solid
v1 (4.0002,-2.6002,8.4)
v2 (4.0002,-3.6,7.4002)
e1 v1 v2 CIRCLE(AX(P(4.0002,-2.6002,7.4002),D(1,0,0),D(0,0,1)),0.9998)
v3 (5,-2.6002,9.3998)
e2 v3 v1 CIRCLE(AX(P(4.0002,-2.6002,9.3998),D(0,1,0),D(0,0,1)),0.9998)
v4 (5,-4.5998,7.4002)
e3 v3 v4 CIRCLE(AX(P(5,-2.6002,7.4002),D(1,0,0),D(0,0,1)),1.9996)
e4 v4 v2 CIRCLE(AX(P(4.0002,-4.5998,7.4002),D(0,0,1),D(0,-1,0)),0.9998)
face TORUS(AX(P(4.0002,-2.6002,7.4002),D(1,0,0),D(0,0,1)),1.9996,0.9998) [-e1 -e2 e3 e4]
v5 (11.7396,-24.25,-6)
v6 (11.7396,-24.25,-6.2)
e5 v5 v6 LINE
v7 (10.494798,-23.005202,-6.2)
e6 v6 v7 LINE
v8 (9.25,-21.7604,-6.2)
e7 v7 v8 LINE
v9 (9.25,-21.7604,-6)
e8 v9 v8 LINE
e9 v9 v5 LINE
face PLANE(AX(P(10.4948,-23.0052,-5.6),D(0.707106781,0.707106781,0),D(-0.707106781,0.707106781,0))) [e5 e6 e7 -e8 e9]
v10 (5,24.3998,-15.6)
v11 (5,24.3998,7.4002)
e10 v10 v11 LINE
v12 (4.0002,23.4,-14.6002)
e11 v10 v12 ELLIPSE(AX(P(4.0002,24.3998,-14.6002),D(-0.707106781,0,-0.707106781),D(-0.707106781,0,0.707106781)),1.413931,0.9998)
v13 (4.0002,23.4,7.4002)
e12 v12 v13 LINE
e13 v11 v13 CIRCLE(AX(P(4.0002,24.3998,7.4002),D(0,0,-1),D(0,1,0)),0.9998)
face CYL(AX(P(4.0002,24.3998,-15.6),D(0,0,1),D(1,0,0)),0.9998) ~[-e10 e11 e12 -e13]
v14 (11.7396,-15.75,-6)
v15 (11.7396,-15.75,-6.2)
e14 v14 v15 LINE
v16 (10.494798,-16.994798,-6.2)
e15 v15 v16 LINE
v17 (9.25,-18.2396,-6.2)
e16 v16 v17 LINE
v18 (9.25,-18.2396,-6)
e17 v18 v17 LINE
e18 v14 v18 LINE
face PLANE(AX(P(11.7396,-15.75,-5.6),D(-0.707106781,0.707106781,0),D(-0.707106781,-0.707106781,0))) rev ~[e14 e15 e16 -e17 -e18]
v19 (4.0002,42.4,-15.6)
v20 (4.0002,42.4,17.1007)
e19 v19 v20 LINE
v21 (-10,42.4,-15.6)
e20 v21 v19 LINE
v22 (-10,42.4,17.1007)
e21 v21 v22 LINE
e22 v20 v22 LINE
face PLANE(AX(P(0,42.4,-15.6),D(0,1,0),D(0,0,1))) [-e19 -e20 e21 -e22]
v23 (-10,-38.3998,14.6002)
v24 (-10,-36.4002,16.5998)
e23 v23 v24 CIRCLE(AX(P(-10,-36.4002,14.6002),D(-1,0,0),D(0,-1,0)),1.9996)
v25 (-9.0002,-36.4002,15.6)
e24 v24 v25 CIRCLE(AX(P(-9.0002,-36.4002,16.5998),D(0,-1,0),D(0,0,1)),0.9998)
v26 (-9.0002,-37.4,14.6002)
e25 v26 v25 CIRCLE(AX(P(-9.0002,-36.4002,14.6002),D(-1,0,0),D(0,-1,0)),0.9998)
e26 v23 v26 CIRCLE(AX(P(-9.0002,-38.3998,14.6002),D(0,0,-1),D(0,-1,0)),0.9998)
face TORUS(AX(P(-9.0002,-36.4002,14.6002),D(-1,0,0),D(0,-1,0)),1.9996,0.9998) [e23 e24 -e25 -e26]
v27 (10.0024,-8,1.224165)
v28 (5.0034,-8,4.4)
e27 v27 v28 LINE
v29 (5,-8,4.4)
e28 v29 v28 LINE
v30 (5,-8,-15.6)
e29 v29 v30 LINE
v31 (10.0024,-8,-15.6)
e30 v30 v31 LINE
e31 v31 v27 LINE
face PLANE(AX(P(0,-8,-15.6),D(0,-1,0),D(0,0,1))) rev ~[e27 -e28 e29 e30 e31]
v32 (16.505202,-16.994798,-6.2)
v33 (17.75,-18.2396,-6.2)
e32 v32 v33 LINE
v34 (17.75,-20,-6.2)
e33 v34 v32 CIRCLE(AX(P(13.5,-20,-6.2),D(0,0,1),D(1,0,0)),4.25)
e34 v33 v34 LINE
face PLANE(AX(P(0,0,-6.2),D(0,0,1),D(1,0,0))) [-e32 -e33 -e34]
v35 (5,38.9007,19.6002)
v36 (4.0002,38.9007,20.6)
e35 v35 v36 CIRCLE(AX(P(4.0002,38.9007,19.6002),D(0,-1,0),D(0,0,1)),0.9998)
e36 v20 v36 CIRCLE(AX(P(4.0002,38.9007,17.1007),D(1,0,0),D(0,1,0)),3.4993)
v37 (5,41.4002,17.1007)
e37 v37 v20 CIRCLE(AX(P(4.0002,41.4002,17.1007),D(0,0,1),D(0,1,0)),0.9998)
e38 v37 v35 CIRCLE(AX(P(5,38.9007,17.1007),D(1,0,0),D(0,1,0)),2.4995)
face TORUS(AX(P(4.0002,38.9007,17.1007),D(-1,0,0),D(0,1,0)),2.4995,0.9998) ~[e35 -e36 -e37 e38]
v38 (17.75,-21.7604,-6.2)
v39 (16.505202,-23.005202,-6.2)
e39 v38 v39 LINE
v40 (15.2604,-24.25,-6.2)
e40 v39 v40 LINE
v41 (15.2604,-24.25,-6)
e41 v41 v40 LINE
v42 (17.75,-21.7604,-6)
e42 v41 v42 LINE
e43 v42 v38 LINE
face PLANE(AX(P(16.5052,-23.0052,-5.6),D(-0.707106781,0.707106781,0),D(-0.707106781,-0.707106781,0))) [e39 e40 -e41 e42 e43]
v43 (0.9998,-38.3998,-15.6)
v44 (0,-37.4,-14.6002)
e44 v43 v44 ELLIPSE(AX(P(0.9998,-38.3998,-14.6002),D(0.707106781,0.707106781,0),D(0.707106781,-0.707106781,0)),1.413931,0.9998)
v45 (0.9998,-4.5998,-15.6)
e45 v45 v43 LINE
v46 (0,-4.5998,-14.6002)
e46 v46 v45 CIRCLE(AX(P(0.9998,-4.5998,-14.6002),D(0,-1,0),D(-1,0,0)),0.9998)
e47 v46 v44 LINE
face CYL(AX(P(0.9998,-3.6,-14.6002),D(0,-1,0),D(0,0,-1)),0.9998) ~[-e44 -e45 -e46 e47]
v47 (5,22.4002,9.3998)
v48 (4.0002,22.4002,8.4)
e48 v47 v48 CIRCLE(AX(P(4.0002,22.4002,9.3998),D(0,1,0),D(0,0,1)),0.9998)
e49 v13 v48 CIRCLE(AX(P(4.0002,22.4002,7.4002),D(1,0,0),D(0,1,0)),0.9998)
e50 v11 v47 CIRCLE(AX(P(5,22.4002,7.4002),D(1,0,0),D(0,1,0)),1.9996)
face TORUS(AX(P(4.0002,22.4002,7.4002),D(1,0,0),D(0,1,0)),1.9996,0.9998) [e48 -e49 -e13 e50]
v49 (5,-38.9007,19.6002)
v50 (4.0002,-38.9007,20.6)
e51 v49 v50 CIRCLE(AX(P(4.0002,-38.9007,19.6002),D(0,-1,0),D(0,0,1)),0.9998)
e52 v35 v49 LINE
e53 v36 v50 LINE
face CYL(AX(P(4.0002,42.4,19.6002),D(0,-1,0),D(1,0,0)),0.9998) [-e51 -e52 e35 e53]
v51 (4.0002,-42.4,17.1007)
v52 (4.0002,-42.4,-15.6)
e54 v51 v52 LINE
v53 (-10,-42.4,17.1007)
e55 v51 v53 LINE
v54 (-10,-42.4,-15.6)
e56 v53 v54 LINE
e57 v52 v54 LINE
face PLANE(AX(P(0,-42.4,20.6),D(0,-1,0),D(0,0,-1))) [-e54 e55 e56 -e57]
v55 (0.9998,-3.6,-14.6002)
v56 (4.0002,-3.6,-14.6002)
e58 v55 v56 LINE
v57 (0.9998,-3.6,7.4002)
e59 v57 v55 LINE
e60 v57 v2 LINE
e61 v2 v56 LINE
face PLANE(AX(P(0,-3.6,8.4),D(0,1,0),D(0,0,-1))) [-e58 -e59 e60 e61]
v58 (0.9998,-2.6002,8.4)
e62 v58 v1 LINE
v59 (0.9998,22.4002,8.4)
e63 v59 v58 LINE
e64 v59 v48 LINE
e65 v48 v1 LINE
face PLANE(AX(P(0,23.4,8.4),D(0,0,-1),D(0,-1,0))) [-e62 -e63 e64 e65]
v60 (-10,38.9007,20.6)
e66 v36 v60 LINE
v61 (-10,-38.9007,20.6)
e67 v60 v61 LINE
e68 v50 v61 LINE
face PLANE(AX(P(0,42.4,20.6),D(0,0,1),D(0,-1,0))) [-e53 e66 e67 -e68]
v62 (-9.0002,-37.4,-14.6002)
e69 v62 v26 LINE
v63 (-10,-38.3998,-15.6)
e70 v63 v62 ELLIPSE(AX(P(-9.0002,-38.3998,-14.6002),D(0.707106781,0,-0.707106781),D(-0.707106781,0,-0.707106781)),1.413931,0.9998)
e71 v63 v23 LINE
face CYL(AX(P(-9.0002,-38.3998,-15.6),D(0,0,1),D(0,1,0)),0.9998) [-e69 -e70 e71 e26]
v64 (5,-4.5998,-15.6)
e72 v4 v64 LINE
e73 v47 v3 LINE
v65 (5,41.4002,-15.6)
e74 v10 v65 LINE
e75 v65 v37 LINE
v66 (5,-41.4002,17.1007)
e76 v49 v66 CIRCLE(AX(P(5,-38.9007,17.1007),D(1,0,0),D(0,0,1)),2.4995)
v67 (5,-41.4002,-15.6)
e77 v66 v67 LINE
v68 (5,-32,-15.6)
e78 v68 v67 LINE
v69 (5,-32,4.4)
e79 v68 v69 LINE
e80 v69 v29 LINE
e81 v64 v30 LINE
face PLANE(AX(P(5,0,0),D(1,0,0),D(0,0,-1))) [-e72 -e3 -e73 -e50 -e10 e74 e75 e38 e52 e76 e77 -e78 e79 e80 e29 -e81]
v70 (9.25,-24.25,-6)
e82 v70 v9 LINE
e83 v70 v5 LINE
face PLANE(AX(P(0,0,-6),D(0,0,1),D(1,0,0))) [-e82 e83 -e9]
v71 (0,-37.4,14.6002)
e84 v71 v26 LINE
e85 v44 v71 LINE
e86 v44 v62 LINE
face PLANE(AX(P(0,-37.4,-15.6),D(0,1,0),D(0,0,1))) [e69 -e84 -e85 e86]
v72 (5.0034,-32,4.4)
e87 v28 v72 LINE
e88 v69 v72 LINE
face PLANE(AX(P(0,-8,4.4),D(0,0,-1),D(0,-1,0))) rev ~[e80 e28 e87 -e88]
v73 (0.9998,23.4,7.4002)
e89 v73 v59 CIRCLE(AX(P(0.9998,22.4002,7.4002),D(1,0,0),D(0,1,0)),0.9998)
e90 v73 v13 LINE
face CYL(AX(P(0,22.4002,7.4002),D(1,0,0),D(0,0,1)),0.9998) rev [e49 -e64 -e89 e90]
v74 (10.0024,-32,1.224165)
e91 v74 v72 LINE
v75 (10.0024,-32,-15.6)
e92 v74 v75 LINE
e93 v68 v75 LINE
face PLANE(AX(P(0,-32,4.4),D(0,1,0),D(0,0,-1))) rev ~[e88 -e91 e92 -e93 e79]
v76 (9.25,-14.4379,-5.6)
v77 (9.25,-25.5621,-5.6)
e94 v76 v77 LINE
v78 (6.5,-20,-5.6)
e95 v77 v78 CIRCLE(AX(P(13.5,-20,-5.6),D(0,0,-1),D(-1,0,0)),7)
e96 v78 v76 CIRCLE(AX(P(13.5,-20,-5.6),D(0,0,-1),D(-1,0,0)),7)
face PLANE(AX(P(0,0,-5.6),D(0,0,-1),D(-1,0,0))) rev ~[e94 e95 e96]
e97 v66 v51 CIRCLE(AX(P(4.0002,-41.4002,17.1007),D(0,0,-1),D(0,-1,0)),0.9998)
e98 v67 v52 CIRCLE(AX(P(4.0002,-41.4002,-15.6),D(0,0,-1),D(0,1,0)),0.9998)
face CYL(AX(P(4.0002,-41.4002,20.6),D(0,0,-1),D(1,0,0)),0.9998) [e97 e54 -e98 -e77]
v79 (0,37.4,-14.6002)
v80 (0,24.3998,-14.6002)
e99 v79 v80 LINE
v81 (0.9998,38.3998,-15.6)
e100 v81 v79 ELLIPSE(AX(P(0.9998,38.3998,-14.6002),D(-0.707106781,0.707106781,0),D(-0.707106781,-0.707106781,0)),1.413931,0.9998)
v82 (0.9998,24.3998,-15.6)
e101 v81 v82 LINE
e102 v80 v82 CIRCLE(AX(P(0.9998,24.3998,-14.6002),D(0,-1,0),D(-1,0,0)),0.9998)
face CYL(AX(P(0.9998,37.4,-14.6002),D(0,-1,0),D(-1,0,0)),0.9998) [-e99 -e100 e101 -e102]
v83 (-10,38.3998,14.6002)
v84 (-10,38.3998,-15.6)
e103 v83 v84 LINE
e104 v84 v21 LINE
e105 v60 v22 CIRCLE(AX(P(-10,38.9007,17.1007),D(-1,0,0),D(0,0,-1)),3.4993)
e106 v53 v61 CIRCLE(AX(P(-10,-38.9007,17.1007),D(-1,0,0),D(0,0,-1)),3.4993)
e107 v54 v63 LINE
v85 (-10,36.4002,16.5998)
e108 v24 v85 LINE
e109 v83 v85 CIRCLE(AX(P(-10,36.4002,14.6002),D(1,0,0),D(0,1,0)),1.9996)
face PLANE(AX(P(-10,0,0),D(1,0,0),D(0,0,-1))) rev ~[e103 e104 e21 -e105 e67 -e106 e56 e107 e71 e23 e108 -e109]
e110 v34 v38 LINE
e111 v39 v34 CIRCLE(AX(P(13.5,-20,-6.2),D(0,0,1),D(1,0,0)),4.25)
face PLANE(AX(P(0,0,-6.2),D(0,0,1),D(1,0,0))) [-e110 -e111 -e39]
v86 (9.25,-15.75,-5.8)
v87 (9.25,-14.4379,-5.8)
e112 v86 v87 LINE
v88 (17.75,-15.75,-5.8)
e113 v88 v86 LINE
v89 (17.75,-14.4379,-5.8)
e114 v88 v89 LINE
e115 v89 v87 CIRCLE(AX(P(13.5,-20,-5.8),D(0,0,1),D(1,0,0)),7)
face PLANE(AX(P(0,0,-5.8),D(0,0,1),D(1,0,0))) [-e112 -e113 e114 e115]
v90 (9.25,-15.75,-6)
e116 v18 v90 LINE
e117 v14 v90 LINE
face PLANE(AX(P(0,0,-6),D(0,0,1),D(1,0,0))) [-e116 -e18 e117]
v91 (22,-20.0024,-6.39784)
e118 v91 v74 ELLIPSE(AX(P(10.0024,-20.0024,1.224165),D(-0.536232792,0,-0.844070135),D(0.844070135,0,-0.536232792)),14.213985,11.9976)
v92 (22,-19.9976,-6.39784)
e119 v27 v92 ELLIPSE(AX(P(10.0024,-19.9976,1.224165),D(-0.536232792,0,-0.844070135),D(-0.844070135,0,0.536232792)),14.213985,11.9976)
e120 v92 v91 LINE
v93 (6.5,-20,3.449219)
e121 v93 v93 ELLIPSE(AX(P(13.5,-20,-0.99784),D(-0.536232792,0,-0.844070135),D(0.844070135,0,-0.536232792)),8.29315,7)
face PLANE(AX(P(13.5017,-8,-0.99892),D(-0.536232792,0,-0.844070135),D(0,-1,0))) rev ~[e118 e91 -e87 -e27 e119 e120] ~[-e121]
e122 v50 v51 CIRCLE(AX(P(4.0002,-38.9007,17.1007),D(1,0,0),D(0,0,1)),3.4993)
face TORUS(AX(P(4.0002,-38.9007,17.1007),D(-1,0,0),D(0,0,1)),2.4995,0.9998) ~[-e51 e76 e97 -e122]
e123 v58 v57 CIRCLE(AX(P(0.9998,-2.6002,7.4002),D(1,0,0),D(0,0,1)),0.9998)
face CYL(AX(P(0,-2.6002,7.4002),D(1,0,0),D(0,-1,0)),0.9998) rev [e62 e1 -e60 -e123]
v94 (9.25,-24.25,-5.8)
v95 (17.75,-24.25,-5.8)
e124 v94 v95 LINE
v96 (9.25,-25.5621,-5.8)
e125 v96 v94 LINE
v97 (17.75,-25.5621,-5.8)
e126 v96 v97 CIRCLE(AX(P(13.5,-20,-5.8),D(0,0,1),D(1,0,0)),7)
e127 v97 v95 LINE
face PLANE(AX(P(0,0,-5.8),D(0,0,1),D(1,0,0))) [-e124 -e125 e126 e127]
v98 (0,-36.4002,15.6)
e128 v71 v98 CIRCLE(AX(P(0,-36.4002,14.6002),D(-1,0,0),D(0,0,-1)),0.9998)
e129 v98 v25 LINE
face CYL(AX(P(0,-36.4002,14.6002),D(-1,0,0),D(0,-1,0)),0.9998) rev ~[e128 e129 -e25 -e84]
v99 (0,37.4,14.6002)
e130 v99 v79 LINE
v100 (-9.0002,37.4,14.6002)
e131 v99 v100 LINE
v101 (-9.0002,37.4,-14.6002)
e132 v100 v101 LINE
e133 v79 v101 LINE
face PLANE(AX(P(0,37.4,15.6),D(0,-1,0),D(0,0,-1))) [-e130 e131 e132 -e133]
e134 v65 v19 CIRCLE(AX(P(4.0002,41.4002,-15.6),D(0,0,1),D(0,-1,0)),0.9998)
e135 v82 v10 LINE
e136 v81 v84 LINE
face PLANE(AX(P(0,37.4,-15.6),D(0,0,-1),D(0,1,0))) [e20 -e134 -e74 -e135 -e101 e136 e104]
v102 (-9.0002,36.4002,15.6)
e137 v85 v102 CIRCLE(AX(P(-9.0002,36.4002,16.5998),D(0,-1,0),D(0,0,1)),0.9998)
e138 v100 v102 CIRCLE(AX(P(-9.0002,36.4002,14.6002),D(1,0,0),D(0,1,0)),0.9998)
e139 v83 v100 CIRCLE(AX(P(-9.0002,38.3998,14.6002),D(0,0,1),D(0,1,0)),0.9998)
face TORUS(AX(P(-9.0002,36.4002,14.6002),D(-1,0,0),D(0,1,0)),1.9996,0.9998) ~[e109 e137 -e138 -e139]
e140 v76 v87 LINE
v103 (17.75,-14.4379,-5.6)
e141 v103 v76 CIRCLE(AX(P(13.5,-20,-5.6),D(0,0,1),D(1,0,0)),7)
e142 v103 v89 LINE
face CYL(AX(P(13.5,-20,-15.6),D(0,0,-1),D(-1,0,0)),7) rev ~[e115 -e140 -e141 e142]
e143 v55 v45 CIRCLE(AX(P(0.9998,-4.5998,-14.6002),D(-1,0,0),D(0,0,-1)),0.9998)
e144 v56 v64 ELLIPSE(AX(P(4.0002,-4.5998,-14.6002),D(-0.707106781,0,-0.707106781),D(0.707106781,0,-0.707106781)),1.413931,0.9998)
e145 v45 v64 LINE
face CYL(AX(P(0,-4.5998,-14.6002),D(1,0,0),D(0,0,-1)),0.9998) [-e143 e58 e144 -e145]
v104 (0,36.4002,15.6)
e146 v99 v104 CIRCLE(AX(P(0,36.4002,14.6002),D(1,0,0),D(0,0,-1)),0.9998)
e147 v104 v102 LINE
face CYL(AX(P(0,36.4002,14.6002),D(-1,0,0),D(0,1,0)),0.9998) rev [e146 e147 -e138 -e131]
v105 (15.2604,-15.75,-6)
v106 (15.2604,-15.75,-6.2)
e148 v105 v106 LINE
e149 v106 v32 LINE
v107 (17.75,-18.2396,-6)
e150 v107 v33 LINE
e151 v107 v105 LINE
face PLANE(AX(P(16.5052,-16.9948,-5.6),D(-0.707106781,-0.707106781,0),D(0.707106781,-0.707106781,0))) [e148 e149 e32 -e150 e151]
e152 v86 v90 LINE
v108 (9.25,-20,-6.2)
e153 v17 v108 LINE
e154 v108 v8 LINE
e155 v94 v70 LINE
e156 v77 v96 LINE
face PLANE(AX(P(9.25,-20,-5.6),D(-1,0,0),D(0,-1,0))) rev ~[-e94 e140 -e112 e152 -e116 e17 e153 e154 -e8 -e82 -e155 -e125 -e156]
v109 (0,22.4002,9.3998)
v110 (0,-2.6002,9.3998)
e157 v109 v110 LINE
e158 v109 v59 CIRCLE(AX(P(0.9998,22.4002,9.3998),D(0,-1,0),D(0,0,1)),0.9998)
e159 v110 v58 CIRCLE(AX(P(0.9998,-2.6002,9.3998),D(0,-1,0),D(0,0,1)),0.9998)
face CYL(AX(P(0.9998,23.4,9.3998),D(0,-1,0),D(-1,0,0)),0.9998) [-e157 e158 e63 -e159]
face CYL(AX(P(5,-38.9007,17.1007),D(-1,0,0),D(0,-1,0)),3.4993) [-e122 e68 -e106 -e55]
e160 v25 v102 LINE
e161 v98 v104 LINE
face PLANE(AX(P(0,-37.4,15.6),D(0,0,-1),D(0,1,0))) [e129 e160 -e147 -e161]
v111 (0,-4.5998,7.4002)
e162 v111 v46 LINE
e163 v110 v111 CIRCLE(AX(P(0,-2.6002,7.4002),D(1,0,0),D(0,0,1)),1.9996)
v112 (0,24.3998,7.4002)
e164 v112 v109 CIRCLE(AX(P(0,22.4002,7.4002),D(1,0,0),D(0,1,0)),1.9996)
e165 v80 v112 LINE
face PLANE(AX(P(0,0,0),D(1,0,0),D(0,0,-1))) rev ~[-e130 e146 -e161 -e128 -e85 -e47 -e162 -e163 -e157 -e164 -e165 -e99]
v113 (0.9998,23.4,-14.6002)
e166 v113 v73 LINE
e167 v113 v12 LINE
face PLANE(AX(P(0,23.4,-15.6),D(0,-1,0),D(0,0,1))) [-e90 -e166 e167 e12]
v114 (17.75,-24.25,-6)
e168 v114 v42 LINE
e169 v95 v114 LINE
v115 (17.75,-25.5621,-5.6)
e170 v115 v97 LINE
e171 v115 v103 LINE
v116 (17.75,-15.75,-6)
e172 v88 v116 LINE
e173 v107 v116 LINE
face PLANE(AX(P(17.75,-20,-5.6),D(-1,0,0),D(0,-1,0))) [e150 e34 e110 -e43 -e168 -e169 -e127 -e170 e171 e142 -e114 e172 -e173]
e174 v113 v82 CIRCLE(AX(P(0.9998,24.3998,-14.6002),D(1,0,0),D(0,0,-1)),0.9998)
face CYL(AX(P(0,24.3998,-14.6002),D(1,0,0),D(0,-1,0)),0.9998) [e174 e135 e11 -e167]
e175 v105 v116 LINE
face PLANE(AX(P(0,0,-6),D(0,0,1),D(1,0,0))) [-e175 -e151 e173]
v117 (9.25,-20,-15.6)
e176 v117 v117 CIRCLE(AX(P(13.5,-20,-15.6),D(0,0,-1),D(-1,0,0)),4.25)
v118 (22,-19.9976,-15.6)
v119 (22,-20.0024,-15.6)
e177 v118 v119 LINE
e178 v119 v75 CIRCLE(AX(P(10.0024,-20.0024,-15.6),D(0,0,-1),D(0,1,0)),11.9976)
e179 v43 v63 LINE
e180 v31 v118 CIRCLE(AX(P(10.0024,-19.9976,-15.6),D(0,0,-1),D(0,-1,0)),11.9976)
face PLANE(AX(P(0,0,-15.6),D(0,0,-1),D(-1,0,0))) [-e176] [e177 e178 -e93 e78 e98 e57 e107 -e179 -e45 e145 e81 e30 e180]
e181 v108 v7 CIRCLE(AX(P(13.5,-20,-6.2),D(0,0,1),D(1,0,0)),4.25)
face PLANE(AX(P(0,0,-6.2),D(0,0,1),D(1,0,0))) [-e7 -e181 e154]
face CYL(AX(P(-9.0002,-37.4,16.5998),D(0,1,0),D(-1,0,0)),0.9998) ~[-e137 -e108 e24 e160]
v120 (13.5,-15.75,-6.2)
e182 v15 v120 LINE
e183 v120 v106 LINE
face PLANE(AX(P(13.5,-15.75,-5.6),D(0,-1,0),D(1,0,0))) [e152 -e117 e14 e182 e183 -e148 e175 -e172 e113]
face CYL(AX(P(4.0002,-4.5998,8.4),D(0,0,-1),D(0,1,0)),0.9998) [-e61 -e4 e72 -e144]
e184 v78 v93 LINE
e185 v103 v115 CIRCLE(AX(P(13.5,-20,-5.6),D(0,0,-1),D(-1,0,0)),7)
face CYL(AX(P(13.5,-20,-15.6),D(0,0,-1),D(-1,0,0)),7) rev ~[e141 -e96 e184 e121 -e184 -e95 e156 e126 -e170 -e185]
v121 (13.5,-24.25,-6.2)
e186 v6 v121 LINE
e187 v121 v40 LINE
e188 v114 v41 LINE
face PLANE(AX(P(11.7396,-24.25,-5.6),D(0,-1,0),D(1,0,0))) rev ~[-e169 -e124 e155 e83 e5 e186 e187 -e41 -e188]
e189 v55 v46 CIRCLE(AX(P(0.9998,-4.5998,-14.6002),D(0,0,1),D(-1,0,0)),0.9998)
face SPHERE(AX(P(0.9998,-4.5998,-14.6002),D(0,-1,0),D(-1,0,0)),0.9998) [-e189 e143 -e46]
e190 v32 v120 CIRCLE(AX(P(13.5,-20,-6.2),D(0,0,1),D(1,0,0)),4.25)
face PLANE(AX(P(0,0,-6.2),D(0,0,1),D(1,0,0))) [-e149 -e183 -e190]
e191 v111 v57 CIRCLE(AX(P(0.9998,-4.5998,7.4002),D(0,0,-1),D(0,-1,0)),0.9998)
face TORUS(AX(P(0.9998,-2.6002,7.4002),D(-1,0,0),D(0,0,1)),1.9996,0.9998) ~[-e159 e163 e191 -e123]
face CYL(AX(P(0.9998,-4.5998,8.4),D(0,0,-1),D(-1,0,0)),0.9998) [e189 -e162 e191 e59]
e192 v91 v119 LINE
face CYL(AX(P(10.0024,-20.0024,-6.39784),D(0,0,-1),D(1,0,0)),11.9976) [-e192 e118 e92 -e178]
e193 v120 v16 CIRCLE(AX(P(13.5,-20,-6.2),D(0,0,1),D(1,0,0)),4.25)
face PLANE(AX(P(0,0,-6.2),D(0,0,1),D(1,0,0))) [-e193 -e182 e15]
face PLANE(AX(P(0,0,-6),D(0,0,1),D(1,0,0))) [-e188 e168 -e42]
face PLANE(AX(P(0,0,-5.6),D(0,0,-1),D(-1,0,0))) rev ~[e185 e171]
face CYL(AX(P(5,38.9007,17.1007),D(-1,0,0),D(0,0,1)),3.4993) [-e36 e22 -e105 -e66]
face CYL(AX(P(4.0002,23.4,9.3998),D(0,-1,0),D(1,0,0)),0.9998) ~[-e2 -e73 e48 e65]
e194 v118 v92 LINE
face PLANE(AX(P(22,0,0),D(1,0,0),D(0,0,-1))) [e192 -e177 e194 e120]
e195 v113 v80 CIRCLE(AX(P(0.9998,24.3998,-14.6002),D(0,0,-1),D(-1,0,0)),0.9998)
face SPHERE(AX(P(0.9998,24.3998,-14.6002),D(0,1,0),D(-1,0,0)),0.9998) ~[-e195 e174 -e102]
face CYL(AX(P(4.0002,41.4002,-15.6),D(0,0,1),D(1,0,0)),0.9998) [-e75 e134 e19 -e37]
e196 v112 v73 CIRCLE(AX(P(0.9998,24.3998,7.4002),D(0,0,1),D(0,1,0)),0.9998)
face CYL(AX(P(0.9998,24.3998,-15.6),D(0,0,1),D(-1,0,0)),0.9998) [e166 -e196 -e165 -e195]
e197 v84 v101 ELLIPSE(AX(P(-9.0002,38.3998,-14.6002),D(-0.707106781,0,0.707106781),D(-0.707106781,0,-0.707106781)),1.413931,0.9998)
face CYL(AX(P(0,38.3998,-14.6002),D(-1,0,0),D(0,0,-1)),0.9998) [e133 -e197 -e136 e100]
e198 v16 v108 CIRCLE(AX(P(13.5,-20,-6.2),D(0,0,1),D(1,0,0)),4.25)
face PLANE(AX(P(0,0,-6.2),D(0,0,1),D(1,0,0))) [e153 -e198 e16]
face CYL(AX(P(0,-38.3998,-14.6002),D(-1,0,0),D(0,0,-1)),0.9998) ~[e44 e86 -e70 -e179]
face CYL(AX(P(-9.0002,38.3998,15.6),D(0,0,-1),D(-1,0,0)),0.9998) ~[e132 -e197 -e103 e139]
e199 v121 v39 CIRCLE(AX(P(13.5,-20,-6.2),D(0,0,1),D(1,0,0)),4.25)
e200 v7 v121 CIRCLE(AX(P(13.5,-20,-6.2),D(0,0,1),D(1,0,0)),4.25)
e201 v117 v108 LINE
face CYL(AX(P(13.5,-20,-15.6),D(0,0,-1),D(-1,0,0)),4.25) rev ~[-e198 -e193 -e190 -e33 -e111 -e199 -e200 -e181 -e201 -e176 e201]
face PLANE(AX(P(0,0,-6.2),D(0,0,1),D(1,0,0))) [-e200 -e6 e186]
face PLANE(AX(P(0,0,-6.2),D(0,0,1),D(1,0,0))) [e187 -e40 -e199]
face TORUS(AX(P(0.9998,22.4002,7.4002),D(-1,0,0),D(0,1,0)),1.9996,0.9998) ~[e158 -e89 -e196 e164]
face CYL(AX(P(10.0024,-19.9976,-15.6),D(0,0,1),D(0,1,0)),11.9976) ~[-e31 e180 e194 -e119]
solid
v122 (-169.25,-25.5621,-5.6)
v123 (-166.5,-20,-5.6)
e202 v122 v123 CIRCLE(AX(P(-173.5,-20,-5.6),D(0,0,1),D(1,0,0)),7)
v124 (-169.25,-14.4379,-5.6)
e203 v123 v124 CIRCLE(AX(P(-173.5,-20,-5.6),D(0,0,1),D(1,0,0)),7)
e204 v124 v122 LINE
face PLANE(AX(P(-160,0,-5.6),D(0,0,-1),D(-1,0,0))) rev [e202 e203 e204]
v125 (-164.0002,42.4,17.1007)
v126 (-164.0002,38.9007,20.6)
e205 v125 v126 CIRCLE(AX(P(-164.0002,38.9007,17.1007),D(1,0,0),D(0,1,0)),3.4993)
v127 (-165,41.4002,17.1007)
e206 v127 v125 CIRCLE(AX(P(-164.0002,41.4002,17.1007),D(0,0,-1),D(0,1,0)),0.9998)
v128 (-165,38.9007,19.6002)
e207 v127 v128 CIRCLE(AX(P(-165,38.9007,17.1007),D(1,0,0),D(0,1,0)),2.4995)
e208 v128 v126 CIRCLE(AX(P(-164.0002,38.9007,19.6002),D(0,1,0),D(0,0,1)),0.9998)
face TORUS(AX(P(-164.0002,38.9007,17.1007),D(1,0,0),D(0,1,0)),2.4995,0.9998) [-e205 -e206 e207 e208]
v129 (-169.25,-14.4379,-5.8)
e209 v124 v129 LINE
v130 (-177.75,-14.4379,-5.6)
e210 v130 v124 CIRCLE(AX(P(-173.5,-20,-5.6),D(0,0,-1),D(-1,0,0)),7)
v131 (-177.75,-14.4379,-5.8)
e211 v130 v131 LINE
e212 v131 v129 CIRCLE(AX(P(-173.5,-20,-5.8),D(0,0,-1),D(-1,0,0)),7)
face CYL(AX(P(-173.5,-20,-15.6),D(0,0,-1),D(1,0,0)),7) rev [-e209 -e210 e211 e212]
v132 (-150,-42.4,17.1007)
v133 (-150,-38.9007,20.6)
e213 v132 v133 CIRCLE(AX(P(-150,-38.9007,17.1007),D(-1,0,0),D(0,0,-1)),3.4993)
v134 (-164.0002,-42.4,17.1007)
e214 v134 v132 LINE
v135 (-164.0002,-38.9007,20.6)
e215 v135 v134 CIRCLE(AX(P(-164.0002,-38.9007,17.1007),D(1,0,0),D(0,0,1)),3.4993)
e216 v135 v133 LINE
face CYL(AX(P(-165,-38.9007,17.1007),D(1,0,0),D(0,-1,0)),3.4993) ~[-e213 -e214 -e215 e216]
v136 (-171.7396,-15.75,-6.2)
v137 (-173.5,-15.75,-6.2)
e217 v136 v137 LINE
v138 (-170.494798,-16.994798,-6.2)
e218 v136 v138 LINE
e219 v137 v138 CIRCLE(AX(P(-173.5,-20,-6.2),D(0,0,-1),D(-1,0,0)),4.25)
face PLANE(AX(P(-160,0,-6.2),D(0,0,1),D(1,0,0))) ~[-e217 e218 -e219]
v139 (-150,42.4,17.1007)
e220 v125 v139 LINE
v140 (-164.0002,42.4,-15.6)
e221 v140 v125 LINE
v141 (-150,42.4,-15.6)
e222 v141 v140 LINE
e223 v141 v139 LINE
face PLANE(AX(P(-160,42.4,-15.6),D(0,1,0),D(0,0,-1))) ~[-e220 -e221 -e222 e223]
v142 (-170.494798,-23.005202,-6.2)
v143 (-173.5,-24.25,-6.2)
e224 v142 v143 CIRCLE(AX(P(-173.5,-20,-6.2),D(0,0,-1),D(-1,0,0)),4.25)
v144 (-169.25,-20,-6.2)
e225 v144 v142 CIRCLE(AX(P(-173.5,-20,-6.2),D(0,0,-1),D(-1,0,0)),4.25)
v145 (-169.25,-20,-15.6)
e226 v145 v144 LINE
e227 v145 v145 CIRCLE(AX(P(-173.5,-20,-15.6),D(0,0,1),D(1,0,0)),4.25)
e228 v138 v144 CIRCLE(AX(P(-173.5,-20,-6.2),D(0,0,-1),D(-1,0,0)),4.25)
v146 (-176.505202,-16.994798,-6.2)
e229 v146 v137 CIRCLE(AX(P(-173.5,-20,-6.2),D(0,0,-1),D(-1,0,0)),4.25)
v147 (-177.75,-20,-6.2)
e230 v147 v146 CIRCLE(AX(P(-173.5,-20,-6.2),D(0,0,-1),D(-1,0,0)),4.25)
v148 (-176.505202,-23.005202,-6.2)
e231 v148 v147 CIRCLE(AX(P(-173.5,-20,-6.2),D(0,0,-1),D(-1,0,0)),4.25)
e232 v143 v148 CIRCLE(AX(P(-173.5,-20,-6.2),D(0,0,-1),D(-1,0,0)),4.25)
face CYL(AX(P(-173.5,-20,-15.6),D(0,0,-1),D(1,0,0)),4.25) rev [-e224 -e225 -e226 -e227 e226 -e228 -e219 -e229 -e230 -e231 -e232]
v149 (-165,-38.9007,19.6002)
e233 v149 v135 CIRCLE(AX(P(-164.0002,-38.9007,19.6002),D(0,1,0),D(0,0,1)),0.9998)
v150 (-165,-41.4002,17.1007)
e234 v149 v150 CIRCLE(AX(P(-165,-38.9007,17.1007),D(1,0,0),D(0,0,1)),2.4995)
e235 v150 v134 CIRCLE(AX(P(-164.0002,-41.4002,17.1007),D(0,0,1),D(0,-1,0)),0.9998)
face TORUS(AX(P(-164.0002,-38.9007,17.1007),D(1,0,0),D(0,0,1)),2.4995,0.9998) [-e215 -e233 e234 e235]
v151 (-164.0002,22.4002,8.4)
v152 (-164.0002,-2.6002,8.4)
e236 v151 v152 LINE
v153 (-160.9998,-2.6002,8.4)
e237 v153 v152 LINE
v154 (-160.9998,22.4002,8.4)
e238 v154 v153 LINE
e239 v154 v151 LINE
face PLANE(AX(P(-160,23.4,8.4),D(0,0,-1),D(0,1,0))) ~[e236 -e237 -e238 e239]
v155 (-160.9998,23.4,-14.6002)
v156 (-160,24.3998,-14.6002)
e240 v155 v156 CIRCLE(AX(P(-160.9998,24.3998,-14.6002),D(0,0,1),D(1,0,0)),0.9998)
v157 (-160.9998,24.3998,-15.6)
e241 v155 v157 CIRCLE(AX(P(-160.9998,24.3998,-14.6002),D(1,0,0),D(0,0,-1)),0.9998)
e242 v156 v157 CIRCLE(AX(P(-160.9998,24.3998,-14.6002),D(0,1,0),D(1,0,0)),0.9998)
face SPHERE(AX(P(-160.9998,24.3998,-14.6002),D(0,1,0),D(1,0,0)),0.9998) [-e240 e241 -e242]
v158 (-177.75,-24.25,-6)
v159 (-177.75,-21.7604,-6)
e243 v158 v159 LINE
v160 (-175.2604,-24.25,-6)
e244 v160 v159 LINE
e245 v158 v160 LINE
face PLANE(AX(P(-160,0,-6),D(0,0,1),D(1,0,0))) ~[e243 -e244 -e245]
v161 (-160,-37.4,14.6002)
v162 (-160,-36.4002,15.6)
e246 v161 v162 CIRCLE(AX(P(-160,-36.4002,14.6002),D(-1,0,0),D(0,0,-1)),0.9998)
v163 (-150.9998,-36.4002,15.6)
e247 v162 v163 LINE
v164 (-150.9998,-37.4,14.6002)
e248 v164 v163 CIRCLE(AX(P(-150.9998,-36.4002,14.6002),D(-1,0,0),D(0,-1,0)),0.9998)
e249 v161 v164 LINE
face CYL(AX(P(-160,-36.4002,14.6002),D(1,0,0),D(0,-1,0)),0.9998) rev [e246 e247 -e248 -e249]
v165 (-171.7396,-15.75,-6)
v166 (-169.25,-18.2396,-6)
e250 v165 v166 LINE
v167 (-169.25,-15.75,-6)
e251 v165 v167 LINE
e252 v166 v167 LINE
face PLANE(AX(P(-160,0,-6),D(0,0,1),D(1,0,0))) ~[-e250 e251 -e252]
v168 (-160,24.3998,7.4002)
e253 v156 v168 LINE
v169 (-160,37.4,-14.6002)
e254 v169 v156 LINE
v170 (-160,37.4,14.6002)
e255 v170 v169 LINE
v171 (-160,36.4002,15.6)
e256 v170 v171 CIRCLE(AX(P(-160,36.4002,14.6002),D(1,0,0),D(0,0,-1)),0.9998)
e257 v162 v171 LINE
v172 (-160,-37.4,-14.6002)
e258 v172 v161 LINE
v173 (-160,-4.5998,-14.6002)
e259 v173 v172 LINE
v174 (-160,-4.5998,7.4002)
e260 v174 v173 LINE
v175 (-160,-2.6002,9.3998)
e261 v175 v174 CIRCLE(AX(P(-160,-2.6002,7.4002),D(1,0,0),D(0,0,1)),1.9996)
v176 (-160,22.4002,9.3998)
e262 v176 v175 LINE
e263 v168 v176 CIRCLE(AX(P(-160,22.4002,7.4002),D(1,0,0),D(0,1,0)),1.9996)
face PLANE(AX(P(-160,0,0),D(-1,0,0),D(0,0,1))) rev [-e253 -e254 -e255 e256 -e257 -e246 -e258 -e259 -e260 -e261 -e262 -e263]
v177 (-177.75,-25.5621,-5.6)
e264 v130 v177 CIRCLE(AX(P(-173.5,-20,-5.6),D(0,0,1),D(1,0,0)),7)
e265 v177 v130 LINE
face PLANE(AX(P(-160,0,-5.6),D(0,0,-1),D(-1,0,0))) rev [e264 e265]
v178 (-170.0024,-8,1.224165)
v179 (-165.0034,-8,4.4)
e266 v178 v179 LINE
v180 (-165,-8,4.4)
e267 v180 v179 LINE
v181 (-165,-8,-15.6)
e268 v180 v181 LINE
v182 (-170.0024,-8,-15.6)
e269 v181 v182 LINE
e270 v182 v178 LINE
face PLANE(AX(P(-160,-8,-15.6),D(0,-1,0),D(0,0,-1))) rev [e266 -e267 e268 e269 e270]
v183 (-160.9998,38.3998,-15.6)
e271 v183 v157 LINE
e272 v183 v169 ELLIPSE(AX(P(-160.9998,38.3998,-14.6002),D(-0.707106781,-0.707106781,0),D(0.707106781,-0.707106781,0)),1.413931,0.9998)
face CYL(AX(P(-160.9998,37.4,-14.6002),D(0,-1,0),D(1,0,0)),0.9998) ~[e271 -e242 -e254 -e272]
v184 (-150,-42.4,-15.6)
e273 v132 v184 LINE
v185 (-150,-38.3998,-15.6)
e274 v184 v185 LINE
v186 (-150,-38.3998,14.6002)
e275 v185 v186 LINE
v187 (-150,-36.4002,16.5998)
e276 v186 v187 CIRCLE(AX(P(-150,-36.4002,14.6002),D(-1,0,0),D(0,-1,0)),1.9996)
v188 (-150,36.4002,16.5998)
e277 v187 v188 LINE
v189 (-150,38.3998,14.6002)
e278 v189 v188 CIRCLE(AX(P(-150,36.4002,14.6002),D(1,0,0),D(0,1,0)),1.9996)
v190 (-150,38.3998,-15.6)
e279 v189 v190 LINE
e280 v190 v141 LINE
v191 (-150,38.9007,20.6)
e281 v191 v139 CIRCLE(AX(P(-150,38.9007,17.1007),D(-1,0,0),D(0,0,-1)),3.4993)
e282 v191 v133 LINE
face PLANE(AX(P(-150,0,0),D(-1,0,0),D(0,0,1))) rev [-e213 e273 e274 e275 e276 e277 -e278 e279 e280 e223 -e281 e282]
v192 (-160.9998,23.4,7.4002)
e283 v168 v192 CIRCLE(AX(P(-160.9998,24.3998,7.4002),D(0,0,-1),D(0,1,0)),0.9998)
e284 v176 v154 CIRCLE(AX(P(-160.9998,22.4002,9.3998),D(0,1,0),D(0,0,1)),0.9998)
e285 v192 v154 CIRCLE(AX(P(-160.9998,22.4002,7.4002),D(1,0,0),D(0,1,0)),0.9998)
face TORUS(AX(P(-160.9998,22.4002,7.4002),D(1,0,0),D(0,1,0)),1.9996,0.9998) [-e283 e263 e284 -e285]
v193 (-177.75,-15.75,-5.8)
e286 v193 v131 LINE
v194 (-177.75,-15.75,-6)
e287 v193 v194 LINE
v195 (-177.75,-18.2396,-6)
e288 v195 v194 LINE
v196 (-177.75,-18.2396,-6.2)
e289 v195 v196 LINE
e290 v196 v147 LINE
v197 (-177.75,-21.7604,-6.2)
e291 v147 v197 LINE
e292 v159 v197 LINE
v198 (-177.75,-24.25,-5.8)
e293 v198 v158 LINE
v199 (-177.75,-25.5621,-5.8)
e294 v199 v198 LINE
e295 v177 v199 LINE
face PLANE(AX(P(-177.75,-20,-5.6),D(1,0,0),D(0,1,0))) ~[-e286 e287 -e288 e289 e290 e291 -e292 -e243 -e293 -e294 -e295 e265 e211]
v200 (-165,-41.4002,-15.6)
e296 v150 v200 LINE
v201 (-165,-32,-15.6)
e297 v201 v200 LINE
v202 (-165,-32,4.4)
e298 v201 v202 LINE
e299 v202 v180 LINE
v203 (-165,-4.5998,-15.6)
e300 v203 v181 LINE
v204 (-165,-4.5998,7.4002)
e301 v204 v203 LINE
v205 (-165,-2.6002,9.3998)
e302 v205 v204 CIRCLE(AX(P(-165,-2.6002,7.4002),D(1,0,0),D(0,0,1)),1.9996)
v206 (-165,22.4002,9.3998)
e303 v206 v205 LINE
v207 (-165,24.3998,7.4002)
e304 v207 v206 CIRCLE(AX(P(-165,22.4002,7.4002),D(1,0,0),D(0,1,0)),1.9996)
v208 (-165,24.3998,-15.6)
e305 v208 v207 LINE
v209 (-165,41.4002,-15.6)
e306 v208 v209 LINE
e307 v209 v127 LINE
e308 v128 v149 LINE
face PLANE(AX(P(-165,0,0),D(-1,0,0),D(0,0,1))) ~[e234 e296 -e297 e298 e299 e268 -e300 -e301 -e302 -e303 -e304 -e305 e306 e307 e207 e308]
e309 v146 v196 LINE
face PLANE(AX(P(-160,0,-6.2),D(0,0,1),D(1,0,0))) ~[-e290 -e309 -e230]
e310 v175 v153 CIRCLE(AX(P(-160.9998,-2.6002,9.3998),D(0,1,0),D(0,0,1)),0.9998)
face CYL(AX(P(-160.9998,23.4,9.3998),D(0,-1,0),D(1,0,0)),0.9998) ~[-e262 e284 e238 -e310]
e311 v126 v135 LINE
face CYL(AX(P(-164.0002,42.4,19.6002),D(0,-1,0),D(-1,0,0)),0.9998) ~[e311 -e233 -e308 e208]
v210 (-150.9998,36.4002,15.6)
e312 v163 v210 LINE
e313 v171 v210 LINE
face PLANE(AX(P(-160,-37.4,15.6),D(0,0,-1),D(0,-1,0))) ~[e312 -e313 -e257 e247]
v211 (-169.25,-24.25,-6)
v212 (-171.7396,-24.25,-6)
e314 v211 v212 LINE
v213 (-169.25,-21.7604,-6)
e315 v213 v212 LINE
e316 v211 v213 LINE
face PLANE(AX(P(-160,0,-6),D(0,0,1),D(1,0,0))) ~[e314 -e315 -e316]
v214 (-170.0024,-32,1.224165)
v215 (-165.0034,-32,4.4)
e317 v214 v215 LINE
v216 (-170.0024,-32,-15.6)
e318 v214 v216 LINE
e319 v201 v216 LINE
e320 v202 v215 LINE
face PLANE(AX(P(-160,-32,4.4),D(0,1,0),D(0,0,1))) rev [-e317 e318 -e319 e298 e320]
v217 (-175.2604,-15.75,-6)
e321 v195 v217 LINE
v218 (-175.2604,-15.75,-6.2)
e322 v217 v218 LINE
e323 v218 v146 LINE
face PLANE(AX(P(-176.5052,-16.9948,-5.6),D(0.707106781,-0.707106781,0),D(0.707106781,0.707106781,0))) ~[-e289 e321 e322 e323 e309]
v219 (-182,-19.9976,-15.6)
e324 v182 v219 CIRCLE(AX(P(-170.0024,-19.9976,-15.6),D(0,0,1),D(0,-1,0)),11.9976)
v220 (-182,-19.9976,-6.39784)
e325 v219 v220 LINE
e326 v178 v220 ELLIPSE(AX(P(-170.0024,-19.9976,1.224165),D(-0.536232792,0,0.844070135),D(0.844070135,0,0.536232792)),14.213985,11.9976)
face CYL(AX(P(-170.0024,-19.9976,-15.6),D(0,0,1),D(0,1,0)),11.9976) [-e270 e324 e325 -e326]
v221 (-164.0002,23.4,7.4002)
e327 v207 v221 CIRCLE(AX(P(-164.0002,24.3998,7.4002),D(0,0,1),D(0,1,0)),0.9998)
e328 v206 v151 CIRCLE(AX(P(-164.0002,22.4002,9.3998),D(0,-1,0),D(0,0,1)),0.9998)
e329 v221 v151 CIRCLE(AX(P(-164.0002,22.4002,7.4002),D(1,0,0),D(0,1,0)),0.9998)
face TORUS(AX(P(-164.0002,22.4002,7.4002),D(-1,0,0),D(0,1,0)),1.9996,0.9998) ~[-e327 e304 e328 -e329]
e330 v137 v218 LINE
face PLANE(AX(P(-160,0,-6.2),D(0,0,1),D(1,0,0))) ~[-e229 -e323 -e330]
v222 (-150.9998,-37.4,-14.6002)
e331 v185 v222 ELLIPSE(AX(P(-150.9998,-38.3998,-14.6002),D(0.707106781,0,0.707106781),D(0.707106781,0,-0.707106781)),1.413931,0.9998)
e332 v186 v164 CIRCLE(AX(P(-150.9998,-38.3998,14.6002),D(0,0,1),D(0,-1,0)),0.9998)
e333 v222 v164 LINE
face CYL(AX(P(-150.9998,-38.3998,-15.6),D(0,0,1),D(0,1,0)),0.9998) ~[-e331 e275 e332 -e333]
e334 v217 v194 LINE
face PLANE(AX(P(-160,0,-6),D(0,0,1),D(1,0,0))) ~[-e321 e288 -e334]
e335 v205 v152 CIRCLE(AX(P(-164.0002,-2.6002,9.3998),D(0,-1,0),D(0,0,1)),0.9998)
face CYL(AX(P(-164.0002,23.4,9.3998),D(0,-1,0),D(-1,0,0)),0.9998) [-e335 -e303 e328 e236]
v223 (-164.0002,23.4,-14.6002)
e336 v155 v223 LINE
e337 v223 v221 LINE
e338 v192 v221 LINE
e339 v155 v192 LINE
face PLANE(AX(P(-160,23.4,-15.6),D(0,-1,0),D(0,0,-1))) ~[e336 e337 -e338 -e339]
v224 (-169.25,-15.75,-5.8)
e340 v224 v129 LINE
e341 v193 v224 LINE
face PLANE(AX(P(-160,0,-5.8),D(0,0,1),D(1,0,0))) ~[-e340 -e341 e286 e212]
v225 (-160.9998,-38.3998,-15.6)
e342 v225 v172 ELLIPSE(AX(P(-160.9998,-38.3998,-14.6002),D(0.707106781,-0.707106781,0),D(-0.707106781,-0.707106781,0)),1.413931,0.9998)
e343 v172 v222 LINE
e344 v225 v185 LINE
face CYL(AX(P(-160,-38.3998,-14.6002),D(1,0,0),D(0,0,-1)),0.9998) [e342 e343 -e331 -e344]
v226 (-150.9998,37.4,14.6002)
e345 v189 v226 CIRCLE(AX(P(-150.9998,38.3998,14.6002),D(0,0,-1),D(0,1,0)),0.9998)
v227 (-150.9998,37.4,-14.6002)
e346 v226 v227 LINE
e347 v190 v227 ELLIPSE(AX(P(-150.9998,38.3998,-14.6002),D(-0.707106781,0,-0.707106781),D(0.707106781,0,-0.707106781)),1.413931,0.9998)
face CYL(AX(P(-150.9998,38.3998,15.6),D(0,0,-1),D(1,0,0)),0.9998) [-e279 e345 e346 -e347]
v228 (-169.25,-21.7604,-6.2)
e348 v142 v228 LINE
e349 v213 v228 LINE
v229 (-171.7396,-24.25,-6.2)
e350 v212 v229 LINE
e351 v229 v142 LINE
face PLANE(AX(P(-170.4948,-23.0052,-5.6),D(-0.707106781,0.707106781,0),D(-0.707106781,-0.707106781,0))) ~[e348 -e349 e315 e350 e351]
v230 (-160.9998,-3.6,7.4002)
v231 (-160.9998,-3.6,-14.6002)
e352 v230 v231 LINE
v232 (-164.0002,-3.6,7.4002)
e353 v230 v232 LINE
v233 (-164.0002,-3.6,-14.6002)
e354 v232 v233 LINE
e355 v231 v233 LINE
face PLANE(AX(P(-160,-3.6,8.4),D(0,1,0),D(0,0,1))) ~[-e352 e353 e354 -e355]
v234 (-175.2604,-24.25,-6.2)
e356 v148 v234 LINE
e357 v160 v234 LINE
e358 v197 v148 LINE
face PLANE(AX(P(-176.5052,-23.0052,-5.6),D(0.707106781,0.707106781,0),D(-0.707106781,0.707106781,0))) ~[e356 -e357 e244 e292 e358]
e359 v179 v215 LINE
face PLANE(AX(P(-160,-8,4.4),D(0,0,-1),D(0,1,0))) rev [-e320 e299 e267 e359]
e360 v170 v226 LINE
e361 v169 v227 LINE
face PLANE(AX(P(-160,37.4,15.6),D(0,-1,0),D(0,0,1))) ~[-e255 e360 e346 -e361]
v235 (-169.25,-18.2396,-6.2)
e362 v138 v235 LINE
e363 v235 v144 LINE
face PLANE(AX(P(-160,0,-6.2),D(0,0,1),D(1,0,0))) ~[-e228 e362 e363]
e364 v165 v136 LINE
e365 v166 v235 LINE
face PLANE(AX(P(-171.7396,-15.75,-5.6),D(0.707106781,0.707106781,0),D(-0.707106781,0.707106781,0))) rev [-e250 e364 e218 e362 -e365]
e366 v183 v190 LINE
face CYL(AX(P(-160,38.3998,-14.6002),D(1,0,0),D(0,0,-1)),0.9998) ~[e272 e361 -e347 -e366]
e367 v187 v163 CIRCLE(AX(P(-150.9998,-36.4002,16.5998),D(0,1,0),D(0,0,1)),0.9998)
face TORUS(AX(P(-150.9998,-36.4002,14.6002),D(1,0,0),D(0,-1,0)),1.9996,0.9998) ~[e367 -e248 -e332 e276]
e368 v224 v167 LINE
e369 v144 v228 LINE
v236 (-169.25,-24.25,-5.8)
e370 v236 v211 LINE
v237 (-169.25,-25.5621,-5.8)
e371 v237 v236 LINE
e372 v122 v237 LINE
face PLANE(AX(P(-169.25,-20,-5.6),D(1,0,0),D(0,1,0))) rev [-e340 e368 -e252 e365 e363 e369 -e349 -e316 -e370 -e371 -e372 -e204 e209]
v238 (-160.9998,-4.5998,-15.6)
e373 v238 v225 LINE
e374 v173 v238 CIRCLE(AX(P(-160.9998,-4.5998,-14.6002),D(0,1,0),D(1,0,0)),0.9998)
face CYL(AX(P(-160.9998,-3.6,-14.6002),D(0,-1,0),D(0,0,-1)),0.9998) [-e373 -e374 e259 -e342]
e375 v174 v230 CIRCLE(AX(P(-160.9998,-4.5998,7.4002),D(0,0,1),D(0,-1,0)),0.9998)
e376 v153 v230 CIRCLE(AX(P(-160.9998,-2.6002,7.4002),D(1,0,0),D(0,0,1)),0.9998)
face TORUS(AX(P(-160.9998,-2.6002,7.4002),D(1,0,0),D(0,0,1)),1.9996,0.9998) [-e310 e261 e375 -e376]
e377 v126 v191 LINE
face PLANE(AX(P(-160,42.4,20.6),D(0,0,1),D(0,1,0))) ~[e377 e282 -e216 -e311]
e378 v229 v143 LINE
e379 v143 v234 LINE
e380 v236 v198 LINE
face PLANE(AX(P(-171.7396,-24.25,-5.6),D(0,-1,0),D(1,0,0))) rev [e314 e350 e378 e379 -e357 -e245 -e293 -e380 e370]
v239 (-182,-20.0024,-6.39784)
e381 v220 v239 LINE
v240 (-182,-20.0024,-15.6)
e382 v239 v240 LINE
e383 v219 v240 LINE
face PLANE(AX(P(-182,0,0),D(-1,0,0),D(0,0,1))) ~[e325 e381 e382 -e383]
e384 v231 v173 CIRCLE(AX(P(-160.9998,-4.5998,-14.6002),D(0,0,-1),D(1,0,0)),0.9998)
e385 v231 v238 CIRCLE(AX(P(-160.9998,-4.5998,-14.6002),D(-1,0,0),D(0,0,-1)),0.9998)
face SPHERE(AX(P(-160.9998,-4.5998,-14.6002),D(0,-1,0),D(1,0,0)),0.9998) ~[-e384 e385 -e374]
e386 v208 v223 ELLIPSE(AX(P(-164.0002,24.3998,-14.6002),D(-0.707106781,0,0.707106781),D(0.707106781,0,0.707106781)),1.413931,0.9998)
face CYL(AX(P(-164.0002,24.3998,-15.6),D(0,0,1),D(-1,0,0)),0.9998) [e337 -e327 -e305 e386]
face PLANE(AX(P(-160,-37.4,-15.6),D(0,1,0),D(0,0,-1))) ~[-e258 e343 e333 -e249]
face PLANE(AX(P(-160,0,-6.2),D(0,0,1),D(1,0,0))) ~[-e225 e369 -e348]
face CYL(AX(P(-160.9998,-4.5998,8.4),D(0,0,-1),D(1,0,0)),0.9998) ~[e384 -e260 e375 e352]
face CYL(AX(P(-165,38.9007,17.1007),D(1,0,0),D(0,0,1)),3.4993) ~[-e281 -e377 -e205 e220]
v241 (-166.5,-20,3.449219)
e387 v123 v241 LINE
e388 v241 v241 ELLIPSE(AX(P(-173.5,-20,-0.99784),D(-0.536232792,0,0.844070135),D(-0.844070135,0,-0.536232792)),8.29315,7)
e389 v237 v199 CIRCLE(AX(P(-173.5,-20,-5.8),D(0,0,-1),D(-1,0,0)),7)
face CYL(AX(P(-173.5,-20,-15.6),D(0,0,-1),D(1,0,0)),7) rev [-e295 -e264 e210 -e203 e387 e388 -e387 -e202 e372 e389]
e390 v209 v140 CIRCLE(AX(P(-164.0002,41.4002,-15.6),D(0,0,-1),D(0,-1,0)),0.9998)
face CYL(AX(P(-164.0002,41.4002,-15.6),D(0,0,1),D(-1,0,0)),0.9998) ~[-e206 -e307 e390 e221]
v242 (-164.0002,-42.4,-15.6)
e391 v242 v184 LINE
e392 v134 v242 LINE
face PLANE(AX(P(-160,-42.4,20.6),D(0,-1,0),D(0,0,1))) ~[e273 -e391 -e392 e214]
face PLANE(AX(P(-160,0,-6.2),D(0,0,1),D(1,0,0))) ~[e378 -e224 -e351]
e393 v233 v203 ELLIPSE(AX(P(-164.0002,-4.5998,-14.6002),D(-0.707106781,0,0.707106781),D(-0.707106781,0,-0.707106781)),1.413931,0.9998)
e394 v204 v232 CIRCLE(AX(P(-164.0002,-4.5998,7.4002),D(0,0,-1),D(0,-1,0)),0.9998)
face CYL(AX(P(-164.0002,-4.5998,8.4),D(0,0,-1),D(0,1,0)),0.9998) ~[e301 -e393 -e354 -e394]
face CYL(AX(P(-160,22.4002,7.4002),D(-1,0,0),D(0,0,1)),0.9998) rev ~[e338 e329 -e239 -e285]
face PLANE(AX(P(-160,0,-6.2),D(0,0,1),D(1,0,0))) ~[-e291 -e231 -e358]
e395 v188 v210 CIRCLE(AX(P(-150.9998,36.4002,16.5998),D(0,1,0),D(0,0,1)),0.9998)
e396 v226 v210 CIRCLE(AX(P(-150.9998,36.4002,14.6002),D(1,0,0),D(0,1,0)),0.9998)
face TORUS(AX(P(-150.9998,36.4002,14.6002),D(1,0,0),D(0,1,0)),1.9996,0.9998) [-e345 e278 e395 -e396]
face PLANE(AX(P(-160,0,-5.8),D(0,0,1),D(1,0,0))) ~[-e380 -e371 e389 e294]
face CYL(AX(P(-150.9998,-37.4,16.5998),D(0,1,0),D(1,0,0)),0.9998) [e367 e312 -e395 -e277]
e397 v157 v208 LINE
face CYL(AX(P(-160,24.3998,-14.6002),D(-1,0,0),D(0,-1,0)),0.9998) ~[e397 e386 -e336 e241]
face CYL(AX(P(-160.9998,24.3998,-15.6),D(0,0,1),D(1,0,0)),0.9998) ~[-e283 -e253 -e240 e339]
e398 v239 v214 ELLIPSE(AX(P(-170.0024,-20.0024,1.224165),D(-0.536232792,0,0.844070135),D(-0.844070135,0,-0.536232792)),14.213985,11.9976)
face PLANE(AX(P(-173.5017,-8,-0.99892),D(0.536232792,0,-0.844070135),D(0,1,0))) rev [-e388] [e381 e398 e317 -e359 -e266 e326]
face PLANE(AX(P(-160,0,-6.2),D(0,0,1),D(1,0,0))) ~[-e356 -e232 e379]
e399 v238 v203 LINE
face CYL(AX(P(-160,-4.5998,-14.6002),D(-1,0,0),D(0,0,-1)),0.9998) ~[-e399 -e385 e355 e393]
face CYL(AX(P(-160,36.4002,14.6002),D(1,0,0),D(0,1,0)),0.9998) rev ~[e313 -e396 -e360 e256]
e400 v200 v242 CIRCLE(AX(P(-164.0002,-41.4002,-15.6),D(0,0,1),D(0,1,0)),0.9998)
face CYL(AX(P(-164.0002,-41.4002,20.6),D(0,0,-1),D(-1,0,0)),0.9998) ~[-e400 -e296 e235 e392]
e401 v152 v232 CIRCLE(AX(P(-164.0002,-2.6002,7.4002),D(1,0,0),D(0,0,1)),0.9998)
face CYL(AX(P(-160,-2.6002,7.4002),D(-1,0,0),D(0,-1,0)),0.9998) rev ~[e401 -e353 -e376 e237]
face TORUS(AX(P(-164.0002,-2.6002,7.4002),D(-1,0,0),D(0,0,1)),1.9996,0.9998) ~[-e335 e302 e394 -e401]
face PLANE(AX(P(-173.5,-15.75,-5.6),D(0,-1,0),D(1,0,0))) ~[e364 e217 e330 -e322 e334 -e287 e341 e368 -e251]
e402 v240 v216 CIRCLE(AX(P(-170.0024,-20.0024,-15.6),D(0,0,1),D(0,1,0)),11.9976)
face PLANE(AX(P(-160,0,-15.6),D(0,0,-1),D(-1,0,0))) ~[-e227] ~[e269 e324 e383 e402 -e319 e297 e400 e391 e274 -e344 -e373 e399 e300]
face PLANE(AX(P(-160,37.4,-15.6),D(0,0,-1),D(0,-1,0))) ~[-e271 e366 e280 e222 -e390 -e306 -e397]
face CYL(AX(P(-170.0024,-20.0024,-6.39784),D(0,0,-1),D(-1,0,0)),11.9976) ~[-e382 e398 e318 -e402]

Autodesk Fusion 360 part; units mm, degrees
sketch "Sketch1" plane through (0, 0, 0) normal (1, 0, 0) x (0, 0, -1)
  line L0 (-15.6, 37.4) -> (15.6, 37.4)
  line L1 (15.6, 37.4) -> (15.6, -37.4)
  line L2 (15.6, -37.4) -> (-15.6, -37.4)
  line L3 (-15.6, -37.4) -> (-15.6, 37.4)
  line L4 (-15.6, 37.4) -> (15.6, -37.4) construction
  line L5 (15.6, 37.4) -> (-15.6, -37.4) construction
  line L6 (15.6, 23.4) -> (-8.4, 23.4)
  line L7 (-8.4, 23.4) -> (-8.4, -3.6)
  line L8 (-8.4, -3.6) -> (15.6, -3.6)
  line L9 (15.6, -3.6) -> (15.6, 23.4)
  line L10 (15.6, 37.4) -> (15.6, 42.4)
  line L11 (15.6, 42.4) -> (-20.6, 42.4)
  line L12 (-20.6, 42.4) -> (-20.6, -42.4)
  line L13 (-20.6, -42.4) -> (15.6, -42.4)
  line L14 (15.6, -42.4) -> (15.6, -37.4)
  line L15 (-15.6, -20) -> (15.6, -20) construction
  line L16 (15.6, -8) -> (-4.4, -8)
  line L17 (-4.4, -8) -> (-4.4, -32)
  line L18 (-4.4, -32) -> (15.6, -32)
  line L19 (15.6, -32) -> (15.6, -8)
  dimension "d1" = 74.8
  dimension "d2" = 31.2
  dimension "d3" = 14
  dimension "d4" = 41
  dimension "d5" = 24
  dimension "d6" = 5
  dimension "d7" = 5
  dimension "d8" = 5
  dimension "d9" = 20
  dimension "d10" = 20
  dimension "d11" = 12
  dimension "d12" = 12
extrude "Extrude1" add sketch "Sketch1" along normal blind 5 contours L0 L2 L3 L10 L11 L12 L13 L14 | L0 L1 L2 L3 L6 L7 L8 L16 L17 L18 | L1 L16 L17 L18 L19 makes body 1
extrude "Extrude2" add sketch "Sketch1" against normal blind 10 contours L0 L2 L3 L10 L11 L12 L13 L14 bodies 1
extrude "Extrude3" add sketch "Sketch1" along normal blind 22 contours L1 L16 L17 L18 L19 bodies 1
chamfer "Chamfer1" distance 10.8 distance2 17 1 edges at (22, -20, 4.4) measured on face at (22, -24, -8.9333) on bodies 1
sketch "Sketch2" plane through (0, 0, -15.6) normal (0, 0, -1) x (-1, 0, 0)
  line L0 (-5, -32) -> (-5, -42.4)
  line L1 (-5, -42.4) -> (10, -42.4)
  line L2 (10, -42.4) -> (10, -37.4)
  line L3 (10, -37.4) -> (0, -37.4)
  line L4 (0, -37.4) -> (0, -3.6)
  line L5 (0, -3.6) -> (-5, -3.6)
  line L6 (-5, -3.6) -> (-5, -8)
  line L7 (-5, -8) -> (-22, -8)
  line L8 (-22, -8) -> (-22, -32)
  line L9 (-22, -32) -> (-5, -32)
  line L10 (-5, -8) -> (-22, -32) construction
  circle A0 centre (-13.5, -20) radius 4.25
  circle A1 centre (-13.5, -20) radius 7
  dimension "d21" = 8.5
  dimension "d22" = 14
extrude "Extrude4" cut sketch "Sketch2" against normal blind 33 contours A0 | A1 bodies 1
extrude "Extrude5" add sketch "Sketch2" against normal blind 10 contours A1 bodies 1
fillet "Fillet1" radius 12 2 edges at (22, -8, -11) (22, -32, -11) on bodies 1
fillet "Fillet1" radius 1 19 edges at (-5, 37.4, 15.6) (-5, -37.4, 15.6) (-5, 37.4, -15.6) (0, 30.4, -15.6) (0, -20.5, -15.6) (-5, -37.4, -15.6) (-10, -37.4, 0) (-10, 37.4, 0) (-10, 0, 15.6) (2.5, -3.6, 8.4) (2.5, 23.4, 8.4) (0, 23.4, -3.6) (5, 23.4, -3.6) (2.5, 23.4, -15.6) (0, 9.9, 8.4) (5, 9.9, 8.4) (0, -3.6, -3.6) (5, -3.6, -3.6) (2.5, -3.6, -15.6) on bodies 1
fillet "Fillet1" radius 3.5 2 edges at (-2.5, 42.4, 20.6) (-2.5, -42.4, 20.6) on bodies 1
fillet "Fillet1" radius 1 3 edges at (5, 42.4, 2.5) (5, 0, 20.6) (5, -42.4, 2.5) on bodies 1
sketch "Sketch3" plane through (0, 0, -5.6) normal (0, 0, 1) x (1, 0, 0)
  circle A0 centre (13.5, -20) radius 4.25
  circle A1 centre (13.5, -20) radius 7
  line L0 (9.25, -14.4379) -> (9.25, -25.5621)
  line L1 (17.75, -14.4379) -> (17.75, -25.5621)
  line L2 (9.25, -15.75) -> (17.75, -15.75)
  line L3 (9.25, -24.25) -> (17.75, -24.25)
  line L4 (11.7396, -15.75) -> (9.25, -18.2396)
  line L5 (15.2604, -15.75) -> (17.75, -18.2396)
  line L6 (17.75, -21.7604) -> (15.2604, -24.25)
  line L7 (11.7396, -24.25) -> (9.25, -21.7604)
  dimension "d33" = 45
extrude "Extrude6" cut sketch "Sketch3" against normal blind 0.2 contours A0 L1 L6 | A0 L1 L5 | A0 L2 L5 | L1 L2 L5 | A0 L3 L6 | L1 L3 L6 | A0 L2 L4 | A1 L0 L1 L2 | A0 L3 L7 | A1 L0 L1 L3 | L0 L2 L4 | A0 L0 L4 | A0 L0 L7 | L0 L3 L7 bodies 1
extrude "Extrude7" cut sketch "Sketch3" against normal blind 0.4 contours A0 L1 L6 | A0 L1 L5 | A0 L2 L5 | L1 L2 L5 | A0 L3 L6 | L1 L3 L6 | A0 L2 L4 | A0 L3 L7 | L0 L2 L4 | A0 L0 L4 | A0 L0 L7 | L0 L3 L7 bodies 1
extrude "Extrude8" cut sketch "Sketch3" against normal blind 0.6 contours A0 L1 L6 | A0 L1 L5 | A0 L2 L5 | A0 L3 L6 | A0 L2 L4 | A0 L3 L7 | A0 L0 L4 | A0 L0 L7 bodies 1
ref_plane "WorkPlane1" through (-80, 0, 0.5) normal (-1, 0, 0) x (0, 0, 1)
mirror "Mirror1" about plane through (-80, 0, 0.5) normal (-1, 0, 0) of bodies 1 makes body 2
copy_body "Body->Comp1" bodies 1 removing the originals makes body 3 in component "wheel PSU mount RH"
copy_body "Body->Comp2" bodies 2 removing the originals makes body 4 in component "wheel PSU mount LH"
component "wheel PSU mount RH" placed x (1, 0, 0) y (0, 1, 0) z (0, 0, 1) at (0, 0, 0)
component "wheel PSU mount LH" placed x (1, 0, 0) y (0, 1, 0) z (0, 0, 1) at (0, 0, 0)
